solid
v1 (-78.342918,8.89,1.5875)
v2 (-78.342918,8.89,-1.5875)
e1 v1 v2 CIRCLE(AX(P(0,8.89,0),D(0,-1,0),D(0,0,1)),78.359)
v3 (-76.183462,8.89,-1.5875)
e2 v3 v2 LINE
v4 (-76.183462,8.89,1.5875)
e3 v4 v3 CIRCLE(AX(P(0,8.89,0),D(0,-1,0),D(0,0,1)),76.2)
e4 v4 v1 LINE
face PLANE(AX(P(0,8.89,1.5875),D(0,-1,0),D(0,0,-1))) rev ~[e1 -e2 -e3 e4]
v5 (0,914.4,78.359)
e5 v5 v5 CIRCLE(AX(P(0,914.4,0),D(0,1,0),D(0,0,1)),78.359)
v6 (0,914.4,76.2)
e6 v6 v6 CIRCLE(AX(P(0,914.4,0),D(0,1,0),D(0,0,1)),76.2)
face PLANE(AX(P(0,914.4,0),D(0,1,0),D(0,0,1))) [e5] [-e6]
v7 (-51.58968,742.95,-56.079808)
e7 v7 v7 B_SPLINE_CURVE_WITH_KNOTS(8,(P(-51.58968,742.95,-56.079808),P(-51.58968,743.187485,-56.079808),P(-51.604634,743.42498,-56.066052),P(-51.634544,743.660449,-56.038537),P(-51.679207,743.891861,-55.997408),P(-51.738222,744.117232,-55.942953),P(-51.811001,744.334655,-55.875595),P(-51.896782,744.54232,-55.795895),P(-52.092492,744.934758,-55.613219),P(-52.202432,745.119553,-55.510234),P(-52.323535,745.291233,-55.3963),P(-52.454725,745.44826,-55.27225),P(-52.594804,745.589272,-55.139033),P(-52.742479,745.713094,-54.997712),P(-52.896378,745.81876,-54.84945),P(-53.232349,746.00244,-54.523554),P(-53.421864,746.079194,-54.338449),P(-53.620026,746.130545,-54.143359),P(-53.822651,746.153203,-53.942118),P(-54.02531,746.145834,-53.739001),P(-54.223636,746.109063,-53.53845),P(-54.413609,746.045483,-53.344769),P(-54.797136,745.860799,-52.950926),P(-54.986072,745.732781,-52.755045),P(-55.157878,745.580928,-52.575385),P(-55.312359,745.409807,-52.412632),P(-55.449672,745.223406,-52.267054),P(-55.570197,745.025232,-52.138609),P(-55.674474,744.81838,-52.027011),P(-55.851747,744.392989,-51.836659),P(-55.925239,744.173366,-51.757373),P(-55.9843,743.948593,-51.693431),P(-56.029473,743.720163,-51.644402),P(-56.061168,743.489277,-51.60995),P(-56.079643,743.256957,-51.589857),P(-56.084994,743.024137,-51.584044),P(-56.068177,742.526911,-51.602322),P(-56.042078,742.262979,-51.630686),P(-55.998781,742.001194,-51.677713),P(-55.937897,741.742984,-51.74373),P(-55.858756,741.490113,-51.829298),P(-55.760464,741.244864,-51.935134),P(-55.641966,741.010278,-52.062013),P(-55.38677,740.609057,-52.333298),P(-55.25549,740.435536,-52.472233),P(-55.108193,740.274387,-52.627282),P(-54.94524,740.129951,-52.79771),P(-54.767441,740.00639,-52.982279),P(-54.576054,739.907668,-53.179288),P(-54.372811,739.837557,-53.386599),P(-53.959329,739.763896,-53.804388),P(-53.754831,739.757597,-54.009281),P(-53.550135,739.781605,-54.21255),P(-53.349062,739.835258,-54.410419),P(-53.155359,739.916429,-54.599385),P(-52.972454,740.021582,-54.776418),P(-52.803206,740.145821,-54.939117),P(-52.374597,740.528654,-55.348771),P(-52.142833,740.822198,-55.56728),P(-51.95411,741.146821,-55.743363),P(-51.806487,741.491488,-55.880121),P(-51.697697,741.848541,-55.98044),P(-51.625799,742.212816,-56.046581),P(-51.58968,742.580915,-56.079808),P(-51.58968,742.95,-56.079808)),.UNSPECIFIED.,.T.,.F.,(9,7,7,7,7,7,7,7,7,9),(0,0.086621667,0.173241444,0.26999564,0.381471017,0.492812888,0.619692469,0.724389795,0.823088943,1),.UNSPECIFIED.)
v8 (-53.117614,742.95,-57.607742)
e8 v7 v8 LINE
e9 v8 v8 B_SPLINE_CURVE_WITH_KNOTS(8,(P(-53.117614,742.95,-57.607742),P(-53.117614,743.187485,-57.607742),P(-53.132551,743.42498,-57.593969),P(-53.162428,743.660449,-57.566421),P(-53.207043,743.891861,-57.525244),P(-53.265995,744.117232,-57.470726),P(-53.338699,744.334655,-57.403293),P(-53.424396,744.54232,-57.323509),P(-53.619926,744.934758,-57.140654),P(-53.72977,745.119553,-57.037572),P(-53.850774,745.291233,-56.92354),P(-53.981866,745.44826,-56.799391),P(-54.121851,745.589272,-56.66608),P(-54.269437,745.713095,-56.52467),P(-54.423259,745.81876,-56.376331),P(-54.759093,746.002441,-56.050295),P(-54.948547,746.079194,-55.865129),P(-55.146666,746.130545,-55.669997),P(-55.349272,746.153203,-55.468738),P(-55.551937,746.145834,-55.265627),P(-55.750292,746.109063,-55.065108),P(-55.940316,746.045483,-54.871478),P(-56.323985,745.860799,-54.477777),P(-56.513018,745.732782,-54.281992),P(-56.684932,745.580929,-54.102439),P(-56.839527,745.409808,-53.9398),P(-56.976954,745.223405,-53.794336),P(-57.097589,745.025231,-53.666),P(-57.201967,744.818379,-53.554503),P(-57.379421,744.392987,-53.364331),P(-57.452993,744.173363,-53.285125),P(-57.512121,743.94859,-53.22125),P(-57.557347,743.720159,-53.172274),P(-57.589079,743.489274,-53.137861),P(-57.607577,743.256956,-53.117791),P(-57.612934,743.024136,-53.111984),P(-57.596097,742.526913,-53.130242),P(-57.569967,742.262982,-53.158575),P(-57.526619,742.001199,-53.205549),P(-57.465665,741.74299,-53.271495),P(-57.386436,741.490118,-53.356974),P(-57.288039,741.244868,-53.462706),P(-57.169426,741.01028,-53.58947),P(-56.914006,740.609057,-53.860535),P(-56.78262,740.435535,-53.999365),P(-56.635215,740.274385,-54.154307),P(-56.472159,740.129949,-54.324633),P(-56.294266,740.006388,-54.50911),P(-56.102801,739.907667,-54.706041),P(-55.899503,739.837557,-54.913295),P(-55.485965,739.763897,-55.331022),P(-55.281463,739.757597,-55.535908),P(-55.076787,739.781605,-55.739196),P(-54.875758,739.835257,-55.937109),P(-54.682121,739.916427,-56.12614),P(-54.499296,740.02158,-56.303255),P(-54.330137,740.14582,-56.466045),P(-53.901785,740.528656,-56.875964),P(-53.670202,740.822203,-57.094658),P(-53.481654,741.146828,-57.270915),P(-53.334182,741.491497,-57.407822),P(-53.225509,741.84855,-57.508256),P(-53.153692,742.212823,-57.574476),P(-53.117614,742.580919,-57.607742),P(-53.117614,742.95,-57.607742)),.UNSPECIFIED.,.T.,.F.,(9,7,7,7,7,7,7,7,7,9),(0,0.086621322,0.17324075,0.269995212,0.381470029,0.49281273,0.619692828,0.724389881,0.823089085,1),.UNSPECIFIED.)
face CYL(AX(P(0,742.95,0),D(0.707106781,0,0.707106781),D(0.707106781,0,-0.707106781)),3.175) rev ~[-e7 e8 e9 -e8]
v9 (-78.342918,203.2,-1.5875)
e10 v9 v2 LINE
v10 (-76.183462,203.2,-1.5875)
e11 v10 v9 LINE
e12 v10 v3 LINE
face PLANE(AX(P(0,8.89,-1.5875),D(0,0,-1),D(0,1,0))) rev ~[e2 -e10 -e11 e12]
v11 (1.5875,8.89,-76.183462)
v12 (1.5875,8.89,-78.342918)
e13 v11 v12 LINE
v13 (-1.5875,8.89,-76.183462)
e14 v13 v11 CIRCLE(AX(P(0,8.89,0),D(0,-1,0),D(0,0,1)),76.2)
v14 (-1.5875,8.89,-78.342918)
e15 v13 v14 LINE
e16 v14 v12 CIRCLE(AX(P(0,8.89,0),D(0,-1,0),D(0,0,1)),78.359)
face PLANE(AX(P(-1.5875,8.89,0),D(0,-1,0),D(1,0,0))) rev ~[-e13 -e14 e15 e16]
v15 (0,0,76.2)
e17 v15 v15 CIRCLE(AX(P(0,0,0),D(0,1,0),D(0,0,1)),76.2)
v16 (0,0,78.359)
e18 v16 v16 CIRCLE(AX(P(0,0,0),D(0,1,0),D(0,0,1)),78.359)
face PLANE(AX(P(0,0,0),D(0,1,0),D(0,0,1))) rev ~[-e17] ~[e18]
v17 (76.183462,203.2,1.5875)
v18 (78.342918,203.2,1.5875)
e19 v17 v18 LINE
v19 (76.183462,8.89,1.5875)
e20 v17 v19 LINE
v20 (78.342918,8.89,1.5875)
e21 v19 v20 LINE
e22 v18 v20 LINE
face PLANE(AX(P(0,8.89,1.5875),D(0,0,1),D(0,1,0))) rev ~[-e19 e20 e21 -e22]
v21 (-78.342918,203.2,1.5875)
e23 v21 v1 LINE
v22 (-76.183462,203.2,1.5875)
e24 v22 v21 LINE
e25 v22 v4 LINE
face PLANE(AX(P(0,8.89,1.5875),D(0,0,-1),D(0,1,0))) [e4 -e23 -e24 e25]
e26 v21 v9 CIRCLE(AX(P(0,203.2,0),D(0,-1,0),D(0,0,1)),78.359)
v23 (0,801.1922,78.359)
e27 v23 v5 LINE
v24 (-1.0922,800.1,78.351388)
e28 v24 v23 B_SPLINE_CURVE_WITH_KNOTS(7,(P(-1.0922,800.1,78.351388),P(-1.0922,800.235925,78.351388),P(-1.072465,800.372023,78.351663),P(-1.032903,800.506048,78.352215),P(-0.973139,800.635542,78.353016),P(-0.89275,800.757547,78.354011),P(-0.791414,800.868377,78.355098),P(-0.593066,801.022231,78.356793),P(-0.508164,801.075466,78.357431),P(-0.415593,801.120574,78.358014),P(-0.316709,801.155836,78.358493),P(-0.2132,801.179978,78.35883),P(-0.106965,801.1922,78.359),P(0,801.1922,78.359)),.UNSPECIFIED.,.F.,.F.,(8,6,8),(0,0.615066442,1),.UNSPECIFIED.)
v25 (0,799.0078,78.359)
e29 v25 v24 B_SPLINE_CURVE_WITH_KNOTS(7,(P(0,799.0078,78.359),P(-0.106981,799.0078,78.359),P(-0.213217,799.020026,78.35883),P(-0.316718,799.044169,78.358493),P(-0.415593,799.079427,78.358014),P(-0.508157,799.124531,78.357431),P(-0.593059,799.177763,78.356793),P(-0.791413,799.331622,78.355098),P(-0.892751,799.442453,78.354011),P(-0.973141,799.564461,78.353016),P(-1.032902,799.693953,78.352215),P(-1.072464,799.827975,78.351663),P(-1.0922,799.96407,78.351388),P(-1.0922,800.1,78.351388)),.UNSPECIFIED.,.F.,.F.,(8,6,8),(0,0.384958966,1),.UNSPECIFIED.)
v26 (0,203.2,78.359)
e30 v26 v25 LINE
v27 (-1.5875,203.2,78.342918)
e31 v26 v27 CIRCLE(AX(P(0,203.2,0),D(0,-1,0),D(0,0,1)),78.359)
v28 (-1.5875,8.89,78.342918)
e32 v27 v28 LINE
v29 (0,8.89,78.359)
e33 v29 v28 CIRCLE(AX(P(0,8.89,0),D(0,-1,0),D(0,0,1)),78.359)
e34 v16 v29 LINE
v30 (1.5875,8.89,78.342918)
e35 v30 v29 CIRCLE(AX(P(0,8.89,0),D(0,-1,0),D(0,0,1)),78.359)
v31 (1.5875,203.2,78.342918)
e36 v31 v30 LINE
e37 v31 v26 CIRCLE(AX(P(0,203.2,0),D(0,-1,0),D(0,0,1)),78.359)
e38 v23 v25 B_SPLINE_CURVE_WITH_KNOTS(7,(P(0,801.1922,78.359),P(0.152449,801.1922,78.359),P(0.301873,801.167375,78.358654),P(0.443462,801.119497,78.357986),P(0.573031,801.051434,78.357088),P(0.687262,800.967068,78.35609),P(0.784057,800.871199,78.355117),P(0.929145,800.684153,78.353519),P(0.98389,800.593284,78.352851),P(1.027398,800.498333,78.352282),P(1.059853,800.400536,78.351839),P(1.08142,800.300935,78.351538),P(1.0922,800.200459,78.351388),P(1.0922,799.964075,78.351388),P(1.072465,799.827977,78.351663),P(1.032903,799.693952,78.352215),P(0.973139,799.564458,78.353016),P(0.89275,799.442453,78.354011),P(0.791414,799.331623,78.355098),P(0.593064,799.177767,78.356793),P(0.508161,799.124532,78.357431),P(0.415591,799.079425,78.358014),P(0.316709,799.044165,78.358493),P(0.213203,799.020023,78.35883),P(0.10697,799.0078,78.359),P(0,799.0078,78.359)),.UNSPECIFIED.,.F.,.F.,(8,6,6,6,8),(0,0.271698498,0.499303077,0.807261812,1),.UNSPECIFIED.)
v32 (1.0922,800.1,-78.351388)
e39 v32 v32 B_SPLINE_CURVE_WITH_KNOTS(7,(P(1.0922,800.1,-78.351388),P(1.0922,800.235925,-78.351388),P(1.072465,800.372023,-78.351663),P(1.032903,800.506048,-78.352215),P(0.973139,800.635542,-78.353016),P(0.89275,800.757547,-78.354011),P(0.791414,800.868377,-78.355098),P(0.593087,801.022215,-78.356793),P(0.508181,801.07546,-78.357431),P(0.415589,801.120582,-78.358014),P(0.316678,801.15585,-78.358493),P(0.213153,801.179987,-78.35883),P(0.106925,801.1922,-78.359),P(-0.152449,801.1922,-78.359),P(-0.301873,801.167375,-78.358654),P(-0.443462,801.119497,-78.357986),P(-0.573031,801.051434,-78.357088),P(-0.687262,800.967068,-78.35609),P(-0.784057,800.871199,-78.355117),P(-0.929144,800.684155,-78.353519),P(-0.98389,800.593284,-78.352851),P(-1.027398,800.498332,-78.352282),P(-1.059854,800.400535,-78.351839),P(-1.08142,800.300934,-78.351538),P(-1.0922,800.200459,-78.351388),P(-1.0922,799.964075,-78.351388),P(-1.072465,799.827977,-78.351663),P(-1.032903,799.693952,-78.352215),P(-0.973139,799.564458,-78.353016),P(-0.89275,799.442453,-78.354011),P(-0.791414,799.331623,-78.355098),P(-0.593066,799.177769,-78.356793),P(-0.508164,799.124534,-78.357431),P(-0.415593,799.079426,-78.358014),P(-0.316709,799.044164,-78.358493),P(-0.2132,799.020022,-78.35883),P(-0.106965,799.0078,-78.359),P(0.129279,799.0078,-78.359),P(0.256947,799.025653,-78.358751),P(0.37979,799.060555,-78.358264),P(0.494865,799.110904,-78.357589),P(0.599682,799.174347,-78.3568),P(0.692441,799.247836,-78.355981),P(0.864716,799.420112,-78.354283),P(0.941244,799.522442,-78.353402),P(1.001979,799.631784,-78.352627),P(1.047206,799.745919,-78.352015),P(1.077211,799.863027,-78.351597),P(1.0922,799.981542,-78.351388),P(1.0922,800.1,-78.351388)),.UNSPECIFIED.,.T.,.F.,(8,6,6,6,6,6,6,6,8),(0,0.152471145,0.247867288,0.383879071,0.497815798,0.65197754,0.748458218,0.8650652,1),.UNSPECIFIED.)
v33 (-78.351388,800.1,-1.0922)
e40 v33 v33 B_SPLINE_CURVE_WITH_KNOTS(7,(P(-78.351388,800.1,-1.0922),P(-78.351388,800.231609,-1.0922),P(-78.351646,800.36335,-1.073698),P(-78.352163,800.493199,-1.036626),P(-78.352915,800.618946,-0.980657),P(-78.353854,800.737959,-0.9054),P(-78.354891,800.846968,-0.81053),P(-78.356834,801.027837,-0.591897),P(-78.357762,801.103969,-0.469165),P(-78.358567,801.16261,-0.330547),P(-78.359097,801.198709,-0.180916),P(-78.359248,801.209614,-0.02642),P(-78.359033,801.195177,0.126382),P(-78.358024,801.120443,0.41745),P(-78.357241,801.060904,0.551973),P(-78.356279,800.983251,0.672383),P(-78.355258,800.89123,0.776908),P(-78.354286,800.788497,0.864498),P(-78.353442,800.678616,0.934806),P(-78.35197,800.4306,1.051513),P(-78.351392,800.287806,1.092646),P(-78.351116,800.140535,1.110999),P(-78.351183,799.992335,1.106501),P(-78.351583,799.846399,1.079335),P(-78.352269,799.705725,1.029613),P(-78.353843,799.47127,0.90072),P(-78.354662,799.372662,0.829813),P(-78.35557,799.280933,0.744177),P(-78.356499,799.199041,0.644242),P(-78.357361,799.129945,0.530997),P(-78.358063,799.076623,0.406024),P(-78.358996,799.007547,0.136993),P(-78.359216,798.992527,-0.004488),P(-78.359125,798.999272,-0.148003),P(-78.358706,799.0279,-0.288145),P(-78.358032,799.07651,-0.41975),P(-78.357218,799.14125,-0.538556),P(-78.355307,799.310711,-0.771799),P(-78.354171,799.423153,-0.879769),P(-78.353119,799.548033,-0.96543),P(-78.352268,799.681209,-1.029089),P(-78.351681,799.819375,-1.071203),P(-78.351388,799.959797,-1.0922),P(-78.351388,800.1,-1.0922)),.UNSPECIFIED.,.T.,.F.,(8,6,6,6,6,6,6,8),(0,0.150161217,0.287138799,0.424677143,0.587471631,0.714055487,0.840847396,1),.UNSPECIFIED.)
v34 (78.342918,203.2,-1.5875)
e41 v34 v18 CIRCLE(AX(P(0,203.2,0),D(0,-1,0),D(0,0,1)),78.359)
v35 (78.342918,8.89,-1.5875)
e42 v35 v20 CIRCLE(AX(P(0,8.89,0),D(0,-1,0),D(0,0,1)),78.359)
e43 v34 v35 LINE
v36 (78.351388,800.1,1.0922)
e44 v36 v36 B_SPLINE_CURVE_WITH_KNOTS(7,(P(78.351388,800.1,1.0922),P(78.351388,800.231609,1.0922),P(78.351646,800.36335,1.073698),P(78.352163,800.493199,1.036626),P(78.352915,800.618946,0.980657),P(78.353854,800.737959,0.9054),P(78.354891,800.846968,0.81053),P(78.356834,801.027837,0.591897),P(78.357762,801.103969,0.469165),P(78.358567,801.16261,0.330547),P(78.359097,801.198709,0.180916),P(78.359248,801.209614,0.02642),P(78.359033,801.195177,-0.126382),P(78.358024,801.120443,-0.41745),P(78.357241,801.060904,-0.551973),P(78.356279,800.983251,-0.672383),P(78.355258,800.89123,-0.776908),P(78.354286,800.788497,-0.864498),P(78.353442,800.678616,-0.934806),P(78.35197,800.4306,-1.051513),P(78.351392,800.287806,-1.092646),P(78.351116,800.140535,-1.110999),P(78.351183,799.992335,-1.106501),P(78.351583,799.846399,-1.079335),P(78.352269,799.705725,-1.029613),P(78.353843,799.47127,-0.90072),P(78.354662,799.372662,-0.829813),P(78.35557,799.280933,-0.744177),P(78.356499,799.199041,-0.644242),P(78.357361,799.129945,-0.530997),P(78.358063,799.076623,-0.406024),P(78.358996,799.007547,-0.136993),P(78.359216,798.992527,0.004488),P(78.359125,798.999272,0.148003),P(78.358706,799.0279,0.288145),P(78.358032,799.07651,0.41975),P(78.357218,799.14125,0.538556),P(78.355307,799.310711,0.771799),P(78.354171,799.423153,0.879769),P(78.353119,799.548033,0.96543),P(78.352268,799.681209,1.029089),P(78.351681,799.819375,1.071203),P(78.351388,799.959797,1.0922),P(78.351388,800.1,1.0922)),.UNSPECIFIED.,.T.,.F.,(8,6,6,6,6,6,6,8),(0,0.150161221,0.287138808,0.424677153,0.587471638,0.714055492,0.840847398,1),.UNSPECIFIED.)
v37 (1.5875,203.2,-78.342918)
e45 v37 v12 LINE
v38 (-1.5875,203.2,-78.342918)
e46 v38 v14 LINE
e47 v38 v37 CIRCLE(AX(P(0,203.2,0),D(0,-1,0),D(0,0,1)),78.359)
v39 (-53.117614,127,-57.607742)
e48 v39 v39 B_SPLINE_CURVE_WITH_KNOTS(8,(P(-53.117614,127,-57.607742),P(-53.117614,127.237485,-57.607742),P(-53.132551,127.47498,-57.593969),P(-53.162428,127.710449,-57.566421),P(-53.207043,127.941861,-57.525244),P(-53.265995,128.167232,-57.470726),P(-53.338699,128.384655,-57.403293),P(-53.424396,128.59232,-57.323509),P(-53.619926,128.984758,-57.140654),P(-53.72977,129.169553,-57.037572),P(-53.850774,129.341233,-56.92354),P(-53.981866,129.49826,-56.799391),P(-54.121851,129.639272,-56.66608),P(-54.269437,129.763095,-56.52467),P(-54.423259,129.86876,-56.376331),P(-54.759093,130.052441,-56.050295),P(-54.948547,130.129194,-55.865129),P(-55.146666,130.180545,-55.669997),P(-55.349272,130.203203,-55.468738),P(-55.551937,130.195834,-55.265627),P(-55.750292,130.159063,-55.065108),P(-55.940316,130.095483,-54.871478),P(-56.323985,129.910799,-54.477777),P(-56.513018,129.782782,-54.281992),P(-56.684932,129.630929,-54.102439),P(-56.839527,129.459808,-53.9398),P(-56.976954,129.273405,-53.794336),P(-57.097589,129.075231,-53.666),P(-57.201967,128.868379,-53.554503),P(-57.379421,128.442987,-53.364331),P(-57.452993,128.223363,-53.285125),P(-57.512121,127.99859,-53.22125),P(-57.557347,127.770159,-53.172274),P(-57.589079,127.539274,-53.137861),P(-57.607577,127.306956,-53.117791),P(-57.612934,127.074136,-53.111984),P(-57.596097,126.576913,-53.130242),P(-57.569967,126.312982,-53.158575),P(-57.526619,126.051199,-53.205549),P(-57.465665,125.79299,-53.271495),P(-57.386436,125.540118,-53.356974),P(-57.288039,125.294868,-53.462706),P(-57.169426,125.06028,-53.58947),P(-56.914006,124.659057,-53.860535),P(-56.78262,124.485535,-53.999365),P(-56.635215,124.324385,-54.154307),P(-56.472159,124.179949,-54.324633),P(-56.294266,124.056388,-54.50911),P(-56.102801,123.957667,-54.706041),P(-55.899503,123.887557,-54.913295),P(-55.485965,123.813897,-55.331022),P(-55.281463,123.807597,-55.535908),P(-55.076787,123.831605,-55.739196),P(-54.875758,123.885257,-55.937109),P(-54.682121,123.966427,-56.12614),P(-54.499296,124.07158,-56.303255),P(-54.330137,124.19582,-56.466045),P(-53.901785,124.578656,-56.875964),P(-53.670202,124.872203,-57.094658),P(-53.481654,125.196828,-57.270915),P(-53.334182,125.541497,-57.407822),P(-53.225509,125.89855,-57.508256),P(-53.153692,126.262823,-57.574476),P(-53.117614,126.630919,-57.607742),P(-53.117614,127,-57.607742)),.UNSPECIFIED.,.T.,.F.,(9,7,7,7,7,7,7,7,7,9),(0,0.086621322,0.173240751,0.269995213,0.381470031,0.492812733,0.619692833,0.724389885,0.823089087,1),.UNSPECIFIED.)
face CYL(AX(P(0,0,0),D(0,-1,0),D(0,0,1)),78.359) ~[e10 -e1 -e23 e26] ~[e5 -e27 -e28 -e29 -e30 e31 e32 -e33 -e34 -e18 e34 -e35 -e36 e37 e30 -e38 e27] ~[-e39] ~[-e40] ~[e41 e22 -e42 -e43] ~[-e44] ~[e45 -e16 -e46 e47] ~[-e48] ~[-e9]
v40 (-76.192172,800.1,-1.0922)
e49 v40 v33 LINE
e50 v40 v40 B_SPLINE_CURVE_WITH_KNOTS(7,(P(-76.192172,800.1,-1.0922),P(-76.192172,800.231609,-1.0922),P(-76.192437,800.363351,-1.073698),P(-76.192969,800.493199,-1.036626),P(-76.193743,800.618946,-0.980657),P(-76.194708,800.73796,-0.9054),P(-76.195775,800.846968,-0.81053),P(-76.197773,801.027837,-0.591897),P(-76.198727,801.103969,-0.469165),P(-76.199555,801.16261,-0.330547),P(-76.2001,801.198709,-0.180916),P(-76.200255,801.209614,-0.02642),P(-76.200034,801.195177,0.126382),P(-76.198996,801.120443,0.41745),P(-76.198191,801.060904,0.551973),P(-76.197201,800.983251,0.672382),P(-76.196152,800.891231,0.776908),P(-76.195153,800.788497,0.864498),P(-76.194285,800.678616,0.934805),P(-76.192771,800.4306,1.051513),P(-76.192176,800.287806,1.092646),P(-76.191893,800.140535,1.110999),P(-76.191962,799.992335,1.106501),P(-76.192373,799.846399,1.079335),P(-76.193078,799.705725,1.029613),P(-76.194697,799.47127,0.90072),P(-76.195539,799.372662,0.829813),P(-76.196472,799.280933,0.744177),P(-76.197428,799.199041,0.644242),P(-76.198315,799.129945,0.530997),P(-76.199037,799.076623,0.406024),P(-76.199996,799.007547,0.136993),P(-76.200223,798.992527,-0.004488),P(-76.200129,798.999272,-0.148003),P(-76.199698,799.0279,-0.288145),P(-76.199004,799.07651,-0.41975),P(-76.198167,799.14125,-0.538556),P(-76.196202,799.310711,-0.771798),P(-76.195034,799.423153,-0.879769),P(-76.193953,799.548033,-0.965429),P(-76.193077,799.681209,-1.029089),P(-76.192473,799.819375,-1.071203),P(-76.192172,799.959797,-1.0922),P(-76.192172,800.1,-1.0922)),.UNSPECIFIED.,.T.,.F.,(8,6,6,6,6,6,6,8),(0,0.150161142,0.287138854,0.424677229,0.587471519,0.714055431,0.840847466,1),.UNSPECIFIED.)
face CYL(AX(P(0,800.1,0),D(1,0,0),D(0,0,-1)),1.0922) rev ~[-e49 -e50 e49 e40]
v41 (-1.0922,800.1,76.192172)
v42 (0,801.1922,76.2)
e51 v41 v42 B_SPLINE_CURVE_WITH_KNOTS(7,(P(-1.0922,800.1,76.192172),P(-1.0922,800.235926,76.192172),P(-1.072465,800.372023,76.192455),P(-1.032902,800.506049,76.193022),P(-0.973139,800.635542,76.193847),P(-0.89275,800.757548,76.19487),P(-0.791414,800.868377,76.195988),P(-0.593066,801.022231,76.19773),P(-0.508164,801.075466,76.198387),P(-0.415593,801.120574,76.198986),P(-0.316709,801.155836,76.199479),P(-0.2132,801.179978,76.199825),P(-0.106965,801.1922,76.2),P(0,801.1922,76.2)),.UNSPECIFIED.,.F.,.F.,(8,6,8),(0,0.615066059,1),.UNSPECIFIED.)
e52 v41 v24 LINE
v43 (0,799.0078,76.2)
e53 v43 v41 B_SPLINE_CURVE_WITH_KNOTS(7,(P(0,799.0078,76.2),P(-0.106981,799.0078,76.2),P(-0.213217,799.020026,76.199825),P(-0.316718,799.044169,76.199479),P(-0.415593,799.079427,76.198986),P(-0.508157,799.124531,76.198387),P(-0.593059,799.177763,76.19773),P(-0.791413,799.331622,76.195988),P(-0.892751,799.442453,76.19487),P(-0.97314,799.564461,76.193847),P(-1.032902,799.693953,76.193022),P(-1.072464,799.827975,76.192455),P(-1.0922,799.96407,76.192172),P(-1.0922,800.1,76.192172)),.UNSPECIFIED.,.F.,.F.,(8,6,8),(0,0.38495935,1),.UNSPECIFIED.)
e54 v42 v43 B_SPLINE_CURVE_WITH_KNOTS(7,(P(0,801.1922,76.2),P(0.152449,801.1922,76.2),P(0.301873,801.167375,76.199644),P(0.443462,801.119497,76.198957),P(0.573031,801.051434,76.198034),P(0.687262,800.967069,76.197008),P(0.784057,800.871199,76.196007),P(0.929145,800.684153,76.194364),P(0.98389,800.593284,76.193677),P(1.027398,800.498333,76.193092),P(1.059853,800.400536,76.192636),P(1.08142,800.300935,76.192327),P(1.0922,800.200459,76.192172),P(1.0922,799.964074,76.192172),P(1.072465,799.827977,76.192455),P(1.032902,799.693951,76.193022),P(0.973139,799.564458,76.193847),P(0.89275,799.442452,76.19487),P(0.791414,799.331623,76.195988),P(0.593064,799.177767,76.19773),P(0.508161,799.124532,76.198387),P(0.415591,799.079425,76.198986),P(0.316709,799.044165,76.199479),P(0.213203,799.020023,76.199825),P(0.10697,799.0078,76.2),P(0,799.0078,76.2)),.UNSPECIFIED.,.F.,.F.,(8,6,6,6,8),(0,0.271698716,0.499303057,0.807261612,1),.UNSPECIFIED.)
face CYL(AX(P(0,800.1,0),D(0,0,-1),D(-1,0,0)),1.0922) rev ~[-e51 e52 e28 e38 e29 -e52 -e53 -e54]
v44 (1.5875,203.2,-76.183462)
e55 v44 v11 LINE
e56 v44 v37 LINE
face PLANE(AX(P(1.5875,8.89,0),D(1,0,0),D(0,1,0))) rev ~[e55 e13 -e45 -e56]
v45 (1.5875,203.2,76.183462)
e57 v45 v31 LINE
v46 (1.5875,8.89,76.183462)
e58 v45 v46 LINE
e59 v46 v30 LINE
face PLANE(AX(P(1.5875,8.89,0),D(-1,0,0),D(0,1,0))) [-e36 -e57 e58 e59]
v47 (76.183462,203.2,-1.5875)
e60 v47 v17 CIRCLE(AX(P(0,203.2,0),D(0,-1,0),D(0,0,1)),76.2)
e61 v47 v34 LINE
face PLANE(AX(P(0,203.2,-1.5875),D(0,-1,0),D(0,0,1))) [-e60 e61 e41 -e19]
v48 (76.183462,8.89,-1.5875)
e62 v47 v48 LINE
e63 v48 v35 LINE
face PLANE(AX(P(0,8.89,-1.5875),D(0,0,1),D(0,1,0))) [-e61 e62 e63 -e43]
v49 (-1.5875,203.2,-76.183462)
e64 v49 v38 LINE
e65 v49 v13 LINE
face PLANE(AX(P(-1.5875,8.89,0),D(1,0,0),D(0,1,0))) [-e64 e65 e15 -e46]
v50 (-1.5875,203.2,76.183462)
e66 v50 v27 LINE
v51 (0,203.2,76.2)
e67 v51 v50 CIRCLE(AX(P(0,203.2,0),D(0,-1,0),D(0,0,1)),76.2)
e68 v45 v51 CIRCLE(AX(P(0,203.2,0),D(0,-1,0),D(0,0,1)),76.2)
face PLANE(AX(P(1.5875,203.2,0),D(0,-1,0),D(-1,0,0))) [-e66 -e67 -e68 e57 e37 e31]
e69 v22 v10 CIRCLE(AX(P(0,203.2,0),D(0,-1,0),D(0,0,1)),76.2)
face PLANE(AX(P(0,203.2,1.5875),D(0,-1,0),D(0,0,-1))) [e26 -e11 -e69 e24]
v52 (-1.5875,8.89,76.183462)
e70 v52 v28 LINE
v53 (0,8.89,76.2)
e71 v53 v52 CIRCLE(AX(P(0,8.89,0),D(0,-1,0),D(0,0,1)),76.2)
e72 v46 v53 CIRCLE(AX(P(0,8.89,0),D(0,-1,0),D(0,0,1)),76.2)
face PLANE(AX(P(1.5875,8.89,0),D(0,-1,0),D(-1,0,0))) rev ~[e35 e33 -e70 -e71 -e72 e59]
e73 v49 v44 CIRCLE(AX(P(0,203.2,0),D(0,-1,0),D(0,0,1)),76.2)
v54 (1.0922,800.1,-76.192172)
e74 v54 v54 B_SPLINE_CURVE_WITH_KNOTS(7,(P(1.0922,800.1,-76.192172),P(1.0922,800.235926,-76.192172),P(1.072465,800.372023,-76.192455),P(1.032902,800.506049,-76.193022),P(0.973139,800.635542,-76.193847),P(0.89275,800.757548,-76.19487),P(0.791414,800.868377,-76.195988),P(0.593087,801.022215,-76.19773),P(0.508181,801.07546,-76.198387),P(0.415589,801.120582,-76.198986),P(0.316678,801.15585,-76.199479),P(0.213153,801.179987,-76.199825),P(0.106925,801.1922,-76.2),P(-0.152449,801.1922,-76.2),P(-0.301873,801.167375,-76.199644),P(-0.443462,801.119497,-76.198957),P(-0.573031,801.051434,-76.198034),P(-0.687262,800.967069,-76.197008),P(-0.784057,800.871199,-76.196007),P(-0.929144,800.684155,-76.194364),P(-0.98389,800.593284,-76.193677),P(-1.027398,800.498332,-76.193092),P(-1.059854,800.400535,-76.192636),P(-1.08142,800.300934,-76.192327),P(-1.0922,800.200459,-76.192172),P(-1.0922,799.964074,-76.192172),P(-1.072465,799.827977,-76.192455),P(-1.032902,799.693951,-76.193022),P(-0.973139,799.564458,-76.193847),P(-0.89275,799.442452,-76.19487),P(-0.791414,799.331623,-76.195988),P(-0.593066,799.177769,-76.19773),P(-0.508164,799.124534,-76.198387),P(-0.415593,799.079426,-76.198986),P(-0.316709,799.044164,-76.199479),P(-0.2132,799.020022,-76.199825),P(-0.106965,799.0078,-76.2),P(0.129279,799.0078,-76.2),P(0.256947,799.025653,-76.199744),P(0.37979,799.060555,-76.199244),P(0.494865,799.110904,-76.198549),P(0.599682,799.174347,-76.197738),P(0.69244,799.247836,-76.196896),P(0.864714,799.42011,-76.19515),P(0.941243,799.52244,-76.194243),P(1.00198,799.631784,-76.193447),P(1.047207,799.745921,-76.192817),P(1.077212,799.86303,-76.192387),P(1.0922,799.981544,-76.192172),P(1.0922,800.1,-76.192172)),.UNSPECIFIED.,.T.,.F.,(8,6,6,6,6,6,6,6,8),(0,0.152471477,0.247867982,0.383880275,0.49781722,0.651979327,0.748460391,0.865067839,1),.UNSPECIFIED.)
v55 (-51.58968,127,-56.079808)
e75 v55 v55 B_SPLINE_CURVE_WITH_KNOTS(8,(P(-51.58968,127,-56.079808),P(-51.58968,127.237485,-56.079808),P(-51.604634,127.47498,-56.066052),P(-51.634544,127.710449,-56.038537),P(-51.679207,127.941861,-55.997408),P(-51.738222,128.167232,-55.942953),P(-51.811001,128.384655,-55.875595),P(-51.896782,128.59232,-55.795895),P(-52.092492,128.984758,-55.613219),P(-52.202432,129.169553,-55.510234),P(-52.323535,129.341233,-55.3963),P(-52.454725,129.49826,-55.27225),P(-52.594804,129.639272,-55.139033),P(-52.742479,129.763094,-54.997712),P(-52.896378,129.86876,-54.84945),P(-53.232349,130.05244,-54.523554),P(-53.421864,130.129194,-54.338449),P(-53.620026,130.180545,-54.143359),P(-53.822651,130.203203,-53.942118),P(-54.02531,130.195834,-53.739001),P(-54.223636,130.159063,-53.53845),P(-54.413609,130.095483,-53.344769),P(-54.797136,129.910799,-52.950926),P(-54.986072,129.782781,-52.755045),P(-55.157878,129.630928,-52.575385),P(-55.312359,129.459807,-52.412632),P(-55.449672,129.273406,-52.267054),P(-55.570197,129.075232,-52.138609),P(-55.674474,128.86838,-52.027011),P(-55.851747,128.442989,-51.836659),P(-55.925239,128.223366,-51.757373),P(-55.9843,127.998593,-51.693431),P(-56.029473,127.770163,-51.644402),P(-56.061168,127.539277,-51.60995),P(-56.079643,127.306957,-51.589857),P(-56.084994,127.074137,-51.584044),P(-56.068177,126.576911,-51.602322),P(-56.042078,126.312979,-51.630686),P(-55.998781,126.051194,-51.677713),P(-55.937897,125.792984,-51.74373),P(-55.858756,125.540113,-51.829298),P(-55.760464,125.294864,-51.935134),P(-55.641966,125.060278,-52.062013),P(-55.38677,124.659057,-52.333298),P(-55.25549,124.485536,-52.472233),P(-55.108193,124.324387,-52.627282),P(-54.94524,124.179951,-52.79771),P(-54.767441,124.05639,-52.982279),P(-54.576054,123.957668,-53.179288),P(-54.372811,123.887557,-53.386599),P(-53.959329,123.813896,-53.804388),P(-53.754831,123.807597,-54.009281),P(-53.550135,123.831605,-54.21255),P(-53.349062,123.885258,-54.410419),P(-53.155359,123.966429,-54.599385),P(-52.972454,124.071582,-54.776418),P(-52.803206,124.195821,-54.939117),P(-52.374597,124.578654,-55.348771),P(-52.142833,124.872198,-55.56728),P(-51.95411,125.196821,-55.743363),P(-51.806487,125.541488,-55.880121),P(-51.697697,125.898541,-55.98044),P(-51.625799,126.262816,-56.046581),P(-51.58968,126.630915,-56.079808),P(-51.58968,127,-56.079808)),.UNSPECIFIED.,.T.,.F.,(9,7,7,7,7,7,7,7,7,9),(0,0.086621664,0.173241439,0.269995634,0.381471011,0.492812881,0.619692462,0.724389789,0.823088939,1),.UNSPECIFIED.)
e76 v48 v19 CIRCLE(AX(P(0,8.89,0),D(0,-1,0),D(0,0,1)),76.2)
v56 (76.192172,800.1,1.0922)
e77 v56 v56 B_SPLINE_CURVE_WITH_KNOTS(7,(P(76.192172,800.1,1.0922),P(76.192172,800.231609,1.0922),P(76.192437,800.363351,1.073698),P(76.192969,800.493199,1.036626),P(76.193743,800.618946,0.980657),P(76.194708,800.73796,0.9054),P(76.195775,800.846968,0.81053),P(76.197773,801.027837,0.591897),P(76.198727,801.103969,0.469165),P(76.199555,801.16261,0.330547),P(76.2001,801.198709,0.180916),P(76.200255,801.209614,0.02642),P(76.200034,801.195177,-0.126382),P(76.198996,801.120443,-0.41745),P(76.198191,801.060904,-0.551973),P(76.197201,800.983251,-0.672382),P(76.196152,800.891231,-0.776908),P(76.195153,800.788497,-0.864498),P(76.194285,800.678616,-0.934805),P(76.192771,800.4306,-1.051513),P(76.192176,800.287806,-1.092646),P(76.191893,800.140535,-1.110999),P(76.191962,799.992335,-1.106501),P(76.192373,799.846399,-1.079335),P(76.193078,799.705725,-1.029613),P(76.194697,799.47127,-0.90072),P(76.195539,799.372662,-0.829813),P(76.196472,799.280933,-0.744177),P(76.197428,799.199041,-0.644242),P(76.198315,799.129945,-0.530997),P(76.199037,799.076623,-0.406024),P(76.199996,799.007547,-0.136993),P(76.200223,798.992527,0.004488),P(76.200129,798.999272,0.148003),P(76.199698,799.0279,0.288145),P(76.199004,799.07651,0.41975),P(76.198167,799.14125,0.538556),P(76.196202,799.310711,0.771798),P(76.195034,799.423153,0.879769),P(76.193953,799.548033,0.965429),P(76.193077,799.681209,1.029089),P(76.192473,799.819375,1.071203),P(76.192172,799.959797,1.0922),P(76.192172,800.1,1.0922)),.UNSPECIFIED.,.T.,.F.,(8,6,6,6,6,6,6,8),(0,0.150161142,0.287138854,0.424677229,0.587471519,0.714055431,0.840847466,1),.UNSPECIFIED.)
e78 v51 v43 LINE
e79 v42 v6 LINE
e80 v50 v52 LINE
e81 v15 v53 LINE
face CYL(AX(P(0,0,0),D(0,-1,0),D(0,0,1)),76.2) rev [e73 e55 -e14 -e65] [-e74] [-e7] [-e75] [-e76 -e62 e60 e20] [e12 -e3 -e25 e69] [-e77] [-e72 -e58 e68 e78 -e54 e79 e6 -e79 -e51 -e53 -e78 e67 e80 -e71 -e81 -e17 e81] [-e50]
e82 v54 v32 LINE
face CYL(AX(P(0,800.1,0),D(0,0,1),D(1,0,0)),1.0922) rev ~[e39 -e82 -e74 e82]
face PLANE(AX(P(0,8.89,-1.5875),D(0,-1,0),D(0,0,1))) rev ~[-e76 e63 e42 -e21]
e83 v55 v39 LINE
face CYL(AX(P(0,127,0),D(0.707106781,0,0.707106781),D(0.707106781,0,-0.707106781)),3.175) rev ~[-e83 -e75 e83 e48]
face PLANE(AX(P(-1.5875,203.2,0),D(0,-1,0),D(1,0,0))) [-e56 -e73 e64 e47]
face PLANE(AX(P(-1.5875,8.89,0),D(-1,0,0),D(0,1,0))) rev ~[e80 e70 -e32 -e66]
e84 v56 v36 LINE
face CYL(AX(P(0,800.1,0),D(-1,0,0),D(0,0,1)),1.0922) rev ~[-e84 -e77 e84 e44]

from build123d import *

# Parameters (mm, degrees)
SKETCH1_R                 = 78.359
SKETCH1_R_2               = 76.2
BOSS_EXTRUDE1_DEPTH       = 914.4
FIN_SLOTS_DEPTH           = 922.090454712
CIRPATTERN1_COUNT         = 4
SKETCH3_R                 = 3.175
RAIL_BUTTONS_DEPTH        = 922.090454712
SKETCH2_4_R               = 1.0922
SHEAR_SCREW_HOLES_DEPTH   = 922.090454829
SHEAR_SCREW_PATTERN_COUNT = 4


with BuildPart() as part:
    # Sketch1 → Boss-Extrude1 (new body)
    with BuildSketch(Plane(origin=(0, 0, 0), x_dir=(1, 0, 0), z_dir=(0, 1, 0))):
        Circle(SKETCH1_R)
        Circle(SKETCH1_R_2, mode=Mode.SUBTRACT)
    extrude(amount=BOSS_EXTRUDE1_DEPTH)

    # Sketch2 → Fin Slots (cut, through all)
    with BuildSketch(Plane(origin=(0, 0, 0), x_dir=(0, 0, -1), z_dir=(1, 0, 0))):
        Polygon((0, 8.89), (1.5875, 8.89), (1.5875, 203.2), (-1.5875, 203.2), (-1.5875, 8.89), align=None)
    fin_slots = extrude(amount=-FIN_SLOTS_DEPTH, mode=Mode.SUBTRACT)

    # CirPattern1: Fin Slots ×4 about axis
    cirpattern1_axis = Axis((0, 0, 0), (0, 1, 0))
    for i in range(1, CIRPATTERN1_COUNT):
        add(fin_slots.rotate(cirpattern1_axis, i * 360 / CIRPATTERN1_COUNT), mode=Mode.SUBTRACT)

    # Sketch3 → Rail Buttons (cut, through all)
    with BuildSketch(Plane(origin=(0, 0, 0), x_dir=(0.7071067811865477, 0, -0.7071067811865475), z_dir=(0.7071067811865475, 0, 0.7071067811865477))):
        with Locations((0, 127)):
            Circle(SKETCH3_R)
        with Locations((0, 742.95)):
            Circle(SKETCH3_R)
    extrude(amount=-RAIL_BUTTONS_DEPTH, mode=Mode.SUBTRACT)

    # Sketch2_4 → Shear Screw Holes (cut, through all)
    with BuildSketch(Plane(origin=(0, 0, 0), x_dir=(0, 0, -1), z_dir=(1, 0, 0))):
        with Locations((0, 800.1)):
            Circle(SKETCH2_4_R)
    shear_screw_holes = extrude(amount=-SHEAR_SCREW_HOLES_DEPTH, mode=Mode.SUBTRACT)

    # Shear Screw Pattern: Shear Screw Holes ×4 about axis
    shear_screw_pattern_axis = Axis((0, 914.4, 0), (0, -1, 0))
    for i in range(1, SHEAR_SCREW_PATTERN_COUNT):
        add(shear_screw_holes.rotate(shear_screw_pattern_axis, i * 360 / SHEAR_SCREW_PATTERN_COUNT), mode=Mode.SUBTRACT)


solid = part.part
